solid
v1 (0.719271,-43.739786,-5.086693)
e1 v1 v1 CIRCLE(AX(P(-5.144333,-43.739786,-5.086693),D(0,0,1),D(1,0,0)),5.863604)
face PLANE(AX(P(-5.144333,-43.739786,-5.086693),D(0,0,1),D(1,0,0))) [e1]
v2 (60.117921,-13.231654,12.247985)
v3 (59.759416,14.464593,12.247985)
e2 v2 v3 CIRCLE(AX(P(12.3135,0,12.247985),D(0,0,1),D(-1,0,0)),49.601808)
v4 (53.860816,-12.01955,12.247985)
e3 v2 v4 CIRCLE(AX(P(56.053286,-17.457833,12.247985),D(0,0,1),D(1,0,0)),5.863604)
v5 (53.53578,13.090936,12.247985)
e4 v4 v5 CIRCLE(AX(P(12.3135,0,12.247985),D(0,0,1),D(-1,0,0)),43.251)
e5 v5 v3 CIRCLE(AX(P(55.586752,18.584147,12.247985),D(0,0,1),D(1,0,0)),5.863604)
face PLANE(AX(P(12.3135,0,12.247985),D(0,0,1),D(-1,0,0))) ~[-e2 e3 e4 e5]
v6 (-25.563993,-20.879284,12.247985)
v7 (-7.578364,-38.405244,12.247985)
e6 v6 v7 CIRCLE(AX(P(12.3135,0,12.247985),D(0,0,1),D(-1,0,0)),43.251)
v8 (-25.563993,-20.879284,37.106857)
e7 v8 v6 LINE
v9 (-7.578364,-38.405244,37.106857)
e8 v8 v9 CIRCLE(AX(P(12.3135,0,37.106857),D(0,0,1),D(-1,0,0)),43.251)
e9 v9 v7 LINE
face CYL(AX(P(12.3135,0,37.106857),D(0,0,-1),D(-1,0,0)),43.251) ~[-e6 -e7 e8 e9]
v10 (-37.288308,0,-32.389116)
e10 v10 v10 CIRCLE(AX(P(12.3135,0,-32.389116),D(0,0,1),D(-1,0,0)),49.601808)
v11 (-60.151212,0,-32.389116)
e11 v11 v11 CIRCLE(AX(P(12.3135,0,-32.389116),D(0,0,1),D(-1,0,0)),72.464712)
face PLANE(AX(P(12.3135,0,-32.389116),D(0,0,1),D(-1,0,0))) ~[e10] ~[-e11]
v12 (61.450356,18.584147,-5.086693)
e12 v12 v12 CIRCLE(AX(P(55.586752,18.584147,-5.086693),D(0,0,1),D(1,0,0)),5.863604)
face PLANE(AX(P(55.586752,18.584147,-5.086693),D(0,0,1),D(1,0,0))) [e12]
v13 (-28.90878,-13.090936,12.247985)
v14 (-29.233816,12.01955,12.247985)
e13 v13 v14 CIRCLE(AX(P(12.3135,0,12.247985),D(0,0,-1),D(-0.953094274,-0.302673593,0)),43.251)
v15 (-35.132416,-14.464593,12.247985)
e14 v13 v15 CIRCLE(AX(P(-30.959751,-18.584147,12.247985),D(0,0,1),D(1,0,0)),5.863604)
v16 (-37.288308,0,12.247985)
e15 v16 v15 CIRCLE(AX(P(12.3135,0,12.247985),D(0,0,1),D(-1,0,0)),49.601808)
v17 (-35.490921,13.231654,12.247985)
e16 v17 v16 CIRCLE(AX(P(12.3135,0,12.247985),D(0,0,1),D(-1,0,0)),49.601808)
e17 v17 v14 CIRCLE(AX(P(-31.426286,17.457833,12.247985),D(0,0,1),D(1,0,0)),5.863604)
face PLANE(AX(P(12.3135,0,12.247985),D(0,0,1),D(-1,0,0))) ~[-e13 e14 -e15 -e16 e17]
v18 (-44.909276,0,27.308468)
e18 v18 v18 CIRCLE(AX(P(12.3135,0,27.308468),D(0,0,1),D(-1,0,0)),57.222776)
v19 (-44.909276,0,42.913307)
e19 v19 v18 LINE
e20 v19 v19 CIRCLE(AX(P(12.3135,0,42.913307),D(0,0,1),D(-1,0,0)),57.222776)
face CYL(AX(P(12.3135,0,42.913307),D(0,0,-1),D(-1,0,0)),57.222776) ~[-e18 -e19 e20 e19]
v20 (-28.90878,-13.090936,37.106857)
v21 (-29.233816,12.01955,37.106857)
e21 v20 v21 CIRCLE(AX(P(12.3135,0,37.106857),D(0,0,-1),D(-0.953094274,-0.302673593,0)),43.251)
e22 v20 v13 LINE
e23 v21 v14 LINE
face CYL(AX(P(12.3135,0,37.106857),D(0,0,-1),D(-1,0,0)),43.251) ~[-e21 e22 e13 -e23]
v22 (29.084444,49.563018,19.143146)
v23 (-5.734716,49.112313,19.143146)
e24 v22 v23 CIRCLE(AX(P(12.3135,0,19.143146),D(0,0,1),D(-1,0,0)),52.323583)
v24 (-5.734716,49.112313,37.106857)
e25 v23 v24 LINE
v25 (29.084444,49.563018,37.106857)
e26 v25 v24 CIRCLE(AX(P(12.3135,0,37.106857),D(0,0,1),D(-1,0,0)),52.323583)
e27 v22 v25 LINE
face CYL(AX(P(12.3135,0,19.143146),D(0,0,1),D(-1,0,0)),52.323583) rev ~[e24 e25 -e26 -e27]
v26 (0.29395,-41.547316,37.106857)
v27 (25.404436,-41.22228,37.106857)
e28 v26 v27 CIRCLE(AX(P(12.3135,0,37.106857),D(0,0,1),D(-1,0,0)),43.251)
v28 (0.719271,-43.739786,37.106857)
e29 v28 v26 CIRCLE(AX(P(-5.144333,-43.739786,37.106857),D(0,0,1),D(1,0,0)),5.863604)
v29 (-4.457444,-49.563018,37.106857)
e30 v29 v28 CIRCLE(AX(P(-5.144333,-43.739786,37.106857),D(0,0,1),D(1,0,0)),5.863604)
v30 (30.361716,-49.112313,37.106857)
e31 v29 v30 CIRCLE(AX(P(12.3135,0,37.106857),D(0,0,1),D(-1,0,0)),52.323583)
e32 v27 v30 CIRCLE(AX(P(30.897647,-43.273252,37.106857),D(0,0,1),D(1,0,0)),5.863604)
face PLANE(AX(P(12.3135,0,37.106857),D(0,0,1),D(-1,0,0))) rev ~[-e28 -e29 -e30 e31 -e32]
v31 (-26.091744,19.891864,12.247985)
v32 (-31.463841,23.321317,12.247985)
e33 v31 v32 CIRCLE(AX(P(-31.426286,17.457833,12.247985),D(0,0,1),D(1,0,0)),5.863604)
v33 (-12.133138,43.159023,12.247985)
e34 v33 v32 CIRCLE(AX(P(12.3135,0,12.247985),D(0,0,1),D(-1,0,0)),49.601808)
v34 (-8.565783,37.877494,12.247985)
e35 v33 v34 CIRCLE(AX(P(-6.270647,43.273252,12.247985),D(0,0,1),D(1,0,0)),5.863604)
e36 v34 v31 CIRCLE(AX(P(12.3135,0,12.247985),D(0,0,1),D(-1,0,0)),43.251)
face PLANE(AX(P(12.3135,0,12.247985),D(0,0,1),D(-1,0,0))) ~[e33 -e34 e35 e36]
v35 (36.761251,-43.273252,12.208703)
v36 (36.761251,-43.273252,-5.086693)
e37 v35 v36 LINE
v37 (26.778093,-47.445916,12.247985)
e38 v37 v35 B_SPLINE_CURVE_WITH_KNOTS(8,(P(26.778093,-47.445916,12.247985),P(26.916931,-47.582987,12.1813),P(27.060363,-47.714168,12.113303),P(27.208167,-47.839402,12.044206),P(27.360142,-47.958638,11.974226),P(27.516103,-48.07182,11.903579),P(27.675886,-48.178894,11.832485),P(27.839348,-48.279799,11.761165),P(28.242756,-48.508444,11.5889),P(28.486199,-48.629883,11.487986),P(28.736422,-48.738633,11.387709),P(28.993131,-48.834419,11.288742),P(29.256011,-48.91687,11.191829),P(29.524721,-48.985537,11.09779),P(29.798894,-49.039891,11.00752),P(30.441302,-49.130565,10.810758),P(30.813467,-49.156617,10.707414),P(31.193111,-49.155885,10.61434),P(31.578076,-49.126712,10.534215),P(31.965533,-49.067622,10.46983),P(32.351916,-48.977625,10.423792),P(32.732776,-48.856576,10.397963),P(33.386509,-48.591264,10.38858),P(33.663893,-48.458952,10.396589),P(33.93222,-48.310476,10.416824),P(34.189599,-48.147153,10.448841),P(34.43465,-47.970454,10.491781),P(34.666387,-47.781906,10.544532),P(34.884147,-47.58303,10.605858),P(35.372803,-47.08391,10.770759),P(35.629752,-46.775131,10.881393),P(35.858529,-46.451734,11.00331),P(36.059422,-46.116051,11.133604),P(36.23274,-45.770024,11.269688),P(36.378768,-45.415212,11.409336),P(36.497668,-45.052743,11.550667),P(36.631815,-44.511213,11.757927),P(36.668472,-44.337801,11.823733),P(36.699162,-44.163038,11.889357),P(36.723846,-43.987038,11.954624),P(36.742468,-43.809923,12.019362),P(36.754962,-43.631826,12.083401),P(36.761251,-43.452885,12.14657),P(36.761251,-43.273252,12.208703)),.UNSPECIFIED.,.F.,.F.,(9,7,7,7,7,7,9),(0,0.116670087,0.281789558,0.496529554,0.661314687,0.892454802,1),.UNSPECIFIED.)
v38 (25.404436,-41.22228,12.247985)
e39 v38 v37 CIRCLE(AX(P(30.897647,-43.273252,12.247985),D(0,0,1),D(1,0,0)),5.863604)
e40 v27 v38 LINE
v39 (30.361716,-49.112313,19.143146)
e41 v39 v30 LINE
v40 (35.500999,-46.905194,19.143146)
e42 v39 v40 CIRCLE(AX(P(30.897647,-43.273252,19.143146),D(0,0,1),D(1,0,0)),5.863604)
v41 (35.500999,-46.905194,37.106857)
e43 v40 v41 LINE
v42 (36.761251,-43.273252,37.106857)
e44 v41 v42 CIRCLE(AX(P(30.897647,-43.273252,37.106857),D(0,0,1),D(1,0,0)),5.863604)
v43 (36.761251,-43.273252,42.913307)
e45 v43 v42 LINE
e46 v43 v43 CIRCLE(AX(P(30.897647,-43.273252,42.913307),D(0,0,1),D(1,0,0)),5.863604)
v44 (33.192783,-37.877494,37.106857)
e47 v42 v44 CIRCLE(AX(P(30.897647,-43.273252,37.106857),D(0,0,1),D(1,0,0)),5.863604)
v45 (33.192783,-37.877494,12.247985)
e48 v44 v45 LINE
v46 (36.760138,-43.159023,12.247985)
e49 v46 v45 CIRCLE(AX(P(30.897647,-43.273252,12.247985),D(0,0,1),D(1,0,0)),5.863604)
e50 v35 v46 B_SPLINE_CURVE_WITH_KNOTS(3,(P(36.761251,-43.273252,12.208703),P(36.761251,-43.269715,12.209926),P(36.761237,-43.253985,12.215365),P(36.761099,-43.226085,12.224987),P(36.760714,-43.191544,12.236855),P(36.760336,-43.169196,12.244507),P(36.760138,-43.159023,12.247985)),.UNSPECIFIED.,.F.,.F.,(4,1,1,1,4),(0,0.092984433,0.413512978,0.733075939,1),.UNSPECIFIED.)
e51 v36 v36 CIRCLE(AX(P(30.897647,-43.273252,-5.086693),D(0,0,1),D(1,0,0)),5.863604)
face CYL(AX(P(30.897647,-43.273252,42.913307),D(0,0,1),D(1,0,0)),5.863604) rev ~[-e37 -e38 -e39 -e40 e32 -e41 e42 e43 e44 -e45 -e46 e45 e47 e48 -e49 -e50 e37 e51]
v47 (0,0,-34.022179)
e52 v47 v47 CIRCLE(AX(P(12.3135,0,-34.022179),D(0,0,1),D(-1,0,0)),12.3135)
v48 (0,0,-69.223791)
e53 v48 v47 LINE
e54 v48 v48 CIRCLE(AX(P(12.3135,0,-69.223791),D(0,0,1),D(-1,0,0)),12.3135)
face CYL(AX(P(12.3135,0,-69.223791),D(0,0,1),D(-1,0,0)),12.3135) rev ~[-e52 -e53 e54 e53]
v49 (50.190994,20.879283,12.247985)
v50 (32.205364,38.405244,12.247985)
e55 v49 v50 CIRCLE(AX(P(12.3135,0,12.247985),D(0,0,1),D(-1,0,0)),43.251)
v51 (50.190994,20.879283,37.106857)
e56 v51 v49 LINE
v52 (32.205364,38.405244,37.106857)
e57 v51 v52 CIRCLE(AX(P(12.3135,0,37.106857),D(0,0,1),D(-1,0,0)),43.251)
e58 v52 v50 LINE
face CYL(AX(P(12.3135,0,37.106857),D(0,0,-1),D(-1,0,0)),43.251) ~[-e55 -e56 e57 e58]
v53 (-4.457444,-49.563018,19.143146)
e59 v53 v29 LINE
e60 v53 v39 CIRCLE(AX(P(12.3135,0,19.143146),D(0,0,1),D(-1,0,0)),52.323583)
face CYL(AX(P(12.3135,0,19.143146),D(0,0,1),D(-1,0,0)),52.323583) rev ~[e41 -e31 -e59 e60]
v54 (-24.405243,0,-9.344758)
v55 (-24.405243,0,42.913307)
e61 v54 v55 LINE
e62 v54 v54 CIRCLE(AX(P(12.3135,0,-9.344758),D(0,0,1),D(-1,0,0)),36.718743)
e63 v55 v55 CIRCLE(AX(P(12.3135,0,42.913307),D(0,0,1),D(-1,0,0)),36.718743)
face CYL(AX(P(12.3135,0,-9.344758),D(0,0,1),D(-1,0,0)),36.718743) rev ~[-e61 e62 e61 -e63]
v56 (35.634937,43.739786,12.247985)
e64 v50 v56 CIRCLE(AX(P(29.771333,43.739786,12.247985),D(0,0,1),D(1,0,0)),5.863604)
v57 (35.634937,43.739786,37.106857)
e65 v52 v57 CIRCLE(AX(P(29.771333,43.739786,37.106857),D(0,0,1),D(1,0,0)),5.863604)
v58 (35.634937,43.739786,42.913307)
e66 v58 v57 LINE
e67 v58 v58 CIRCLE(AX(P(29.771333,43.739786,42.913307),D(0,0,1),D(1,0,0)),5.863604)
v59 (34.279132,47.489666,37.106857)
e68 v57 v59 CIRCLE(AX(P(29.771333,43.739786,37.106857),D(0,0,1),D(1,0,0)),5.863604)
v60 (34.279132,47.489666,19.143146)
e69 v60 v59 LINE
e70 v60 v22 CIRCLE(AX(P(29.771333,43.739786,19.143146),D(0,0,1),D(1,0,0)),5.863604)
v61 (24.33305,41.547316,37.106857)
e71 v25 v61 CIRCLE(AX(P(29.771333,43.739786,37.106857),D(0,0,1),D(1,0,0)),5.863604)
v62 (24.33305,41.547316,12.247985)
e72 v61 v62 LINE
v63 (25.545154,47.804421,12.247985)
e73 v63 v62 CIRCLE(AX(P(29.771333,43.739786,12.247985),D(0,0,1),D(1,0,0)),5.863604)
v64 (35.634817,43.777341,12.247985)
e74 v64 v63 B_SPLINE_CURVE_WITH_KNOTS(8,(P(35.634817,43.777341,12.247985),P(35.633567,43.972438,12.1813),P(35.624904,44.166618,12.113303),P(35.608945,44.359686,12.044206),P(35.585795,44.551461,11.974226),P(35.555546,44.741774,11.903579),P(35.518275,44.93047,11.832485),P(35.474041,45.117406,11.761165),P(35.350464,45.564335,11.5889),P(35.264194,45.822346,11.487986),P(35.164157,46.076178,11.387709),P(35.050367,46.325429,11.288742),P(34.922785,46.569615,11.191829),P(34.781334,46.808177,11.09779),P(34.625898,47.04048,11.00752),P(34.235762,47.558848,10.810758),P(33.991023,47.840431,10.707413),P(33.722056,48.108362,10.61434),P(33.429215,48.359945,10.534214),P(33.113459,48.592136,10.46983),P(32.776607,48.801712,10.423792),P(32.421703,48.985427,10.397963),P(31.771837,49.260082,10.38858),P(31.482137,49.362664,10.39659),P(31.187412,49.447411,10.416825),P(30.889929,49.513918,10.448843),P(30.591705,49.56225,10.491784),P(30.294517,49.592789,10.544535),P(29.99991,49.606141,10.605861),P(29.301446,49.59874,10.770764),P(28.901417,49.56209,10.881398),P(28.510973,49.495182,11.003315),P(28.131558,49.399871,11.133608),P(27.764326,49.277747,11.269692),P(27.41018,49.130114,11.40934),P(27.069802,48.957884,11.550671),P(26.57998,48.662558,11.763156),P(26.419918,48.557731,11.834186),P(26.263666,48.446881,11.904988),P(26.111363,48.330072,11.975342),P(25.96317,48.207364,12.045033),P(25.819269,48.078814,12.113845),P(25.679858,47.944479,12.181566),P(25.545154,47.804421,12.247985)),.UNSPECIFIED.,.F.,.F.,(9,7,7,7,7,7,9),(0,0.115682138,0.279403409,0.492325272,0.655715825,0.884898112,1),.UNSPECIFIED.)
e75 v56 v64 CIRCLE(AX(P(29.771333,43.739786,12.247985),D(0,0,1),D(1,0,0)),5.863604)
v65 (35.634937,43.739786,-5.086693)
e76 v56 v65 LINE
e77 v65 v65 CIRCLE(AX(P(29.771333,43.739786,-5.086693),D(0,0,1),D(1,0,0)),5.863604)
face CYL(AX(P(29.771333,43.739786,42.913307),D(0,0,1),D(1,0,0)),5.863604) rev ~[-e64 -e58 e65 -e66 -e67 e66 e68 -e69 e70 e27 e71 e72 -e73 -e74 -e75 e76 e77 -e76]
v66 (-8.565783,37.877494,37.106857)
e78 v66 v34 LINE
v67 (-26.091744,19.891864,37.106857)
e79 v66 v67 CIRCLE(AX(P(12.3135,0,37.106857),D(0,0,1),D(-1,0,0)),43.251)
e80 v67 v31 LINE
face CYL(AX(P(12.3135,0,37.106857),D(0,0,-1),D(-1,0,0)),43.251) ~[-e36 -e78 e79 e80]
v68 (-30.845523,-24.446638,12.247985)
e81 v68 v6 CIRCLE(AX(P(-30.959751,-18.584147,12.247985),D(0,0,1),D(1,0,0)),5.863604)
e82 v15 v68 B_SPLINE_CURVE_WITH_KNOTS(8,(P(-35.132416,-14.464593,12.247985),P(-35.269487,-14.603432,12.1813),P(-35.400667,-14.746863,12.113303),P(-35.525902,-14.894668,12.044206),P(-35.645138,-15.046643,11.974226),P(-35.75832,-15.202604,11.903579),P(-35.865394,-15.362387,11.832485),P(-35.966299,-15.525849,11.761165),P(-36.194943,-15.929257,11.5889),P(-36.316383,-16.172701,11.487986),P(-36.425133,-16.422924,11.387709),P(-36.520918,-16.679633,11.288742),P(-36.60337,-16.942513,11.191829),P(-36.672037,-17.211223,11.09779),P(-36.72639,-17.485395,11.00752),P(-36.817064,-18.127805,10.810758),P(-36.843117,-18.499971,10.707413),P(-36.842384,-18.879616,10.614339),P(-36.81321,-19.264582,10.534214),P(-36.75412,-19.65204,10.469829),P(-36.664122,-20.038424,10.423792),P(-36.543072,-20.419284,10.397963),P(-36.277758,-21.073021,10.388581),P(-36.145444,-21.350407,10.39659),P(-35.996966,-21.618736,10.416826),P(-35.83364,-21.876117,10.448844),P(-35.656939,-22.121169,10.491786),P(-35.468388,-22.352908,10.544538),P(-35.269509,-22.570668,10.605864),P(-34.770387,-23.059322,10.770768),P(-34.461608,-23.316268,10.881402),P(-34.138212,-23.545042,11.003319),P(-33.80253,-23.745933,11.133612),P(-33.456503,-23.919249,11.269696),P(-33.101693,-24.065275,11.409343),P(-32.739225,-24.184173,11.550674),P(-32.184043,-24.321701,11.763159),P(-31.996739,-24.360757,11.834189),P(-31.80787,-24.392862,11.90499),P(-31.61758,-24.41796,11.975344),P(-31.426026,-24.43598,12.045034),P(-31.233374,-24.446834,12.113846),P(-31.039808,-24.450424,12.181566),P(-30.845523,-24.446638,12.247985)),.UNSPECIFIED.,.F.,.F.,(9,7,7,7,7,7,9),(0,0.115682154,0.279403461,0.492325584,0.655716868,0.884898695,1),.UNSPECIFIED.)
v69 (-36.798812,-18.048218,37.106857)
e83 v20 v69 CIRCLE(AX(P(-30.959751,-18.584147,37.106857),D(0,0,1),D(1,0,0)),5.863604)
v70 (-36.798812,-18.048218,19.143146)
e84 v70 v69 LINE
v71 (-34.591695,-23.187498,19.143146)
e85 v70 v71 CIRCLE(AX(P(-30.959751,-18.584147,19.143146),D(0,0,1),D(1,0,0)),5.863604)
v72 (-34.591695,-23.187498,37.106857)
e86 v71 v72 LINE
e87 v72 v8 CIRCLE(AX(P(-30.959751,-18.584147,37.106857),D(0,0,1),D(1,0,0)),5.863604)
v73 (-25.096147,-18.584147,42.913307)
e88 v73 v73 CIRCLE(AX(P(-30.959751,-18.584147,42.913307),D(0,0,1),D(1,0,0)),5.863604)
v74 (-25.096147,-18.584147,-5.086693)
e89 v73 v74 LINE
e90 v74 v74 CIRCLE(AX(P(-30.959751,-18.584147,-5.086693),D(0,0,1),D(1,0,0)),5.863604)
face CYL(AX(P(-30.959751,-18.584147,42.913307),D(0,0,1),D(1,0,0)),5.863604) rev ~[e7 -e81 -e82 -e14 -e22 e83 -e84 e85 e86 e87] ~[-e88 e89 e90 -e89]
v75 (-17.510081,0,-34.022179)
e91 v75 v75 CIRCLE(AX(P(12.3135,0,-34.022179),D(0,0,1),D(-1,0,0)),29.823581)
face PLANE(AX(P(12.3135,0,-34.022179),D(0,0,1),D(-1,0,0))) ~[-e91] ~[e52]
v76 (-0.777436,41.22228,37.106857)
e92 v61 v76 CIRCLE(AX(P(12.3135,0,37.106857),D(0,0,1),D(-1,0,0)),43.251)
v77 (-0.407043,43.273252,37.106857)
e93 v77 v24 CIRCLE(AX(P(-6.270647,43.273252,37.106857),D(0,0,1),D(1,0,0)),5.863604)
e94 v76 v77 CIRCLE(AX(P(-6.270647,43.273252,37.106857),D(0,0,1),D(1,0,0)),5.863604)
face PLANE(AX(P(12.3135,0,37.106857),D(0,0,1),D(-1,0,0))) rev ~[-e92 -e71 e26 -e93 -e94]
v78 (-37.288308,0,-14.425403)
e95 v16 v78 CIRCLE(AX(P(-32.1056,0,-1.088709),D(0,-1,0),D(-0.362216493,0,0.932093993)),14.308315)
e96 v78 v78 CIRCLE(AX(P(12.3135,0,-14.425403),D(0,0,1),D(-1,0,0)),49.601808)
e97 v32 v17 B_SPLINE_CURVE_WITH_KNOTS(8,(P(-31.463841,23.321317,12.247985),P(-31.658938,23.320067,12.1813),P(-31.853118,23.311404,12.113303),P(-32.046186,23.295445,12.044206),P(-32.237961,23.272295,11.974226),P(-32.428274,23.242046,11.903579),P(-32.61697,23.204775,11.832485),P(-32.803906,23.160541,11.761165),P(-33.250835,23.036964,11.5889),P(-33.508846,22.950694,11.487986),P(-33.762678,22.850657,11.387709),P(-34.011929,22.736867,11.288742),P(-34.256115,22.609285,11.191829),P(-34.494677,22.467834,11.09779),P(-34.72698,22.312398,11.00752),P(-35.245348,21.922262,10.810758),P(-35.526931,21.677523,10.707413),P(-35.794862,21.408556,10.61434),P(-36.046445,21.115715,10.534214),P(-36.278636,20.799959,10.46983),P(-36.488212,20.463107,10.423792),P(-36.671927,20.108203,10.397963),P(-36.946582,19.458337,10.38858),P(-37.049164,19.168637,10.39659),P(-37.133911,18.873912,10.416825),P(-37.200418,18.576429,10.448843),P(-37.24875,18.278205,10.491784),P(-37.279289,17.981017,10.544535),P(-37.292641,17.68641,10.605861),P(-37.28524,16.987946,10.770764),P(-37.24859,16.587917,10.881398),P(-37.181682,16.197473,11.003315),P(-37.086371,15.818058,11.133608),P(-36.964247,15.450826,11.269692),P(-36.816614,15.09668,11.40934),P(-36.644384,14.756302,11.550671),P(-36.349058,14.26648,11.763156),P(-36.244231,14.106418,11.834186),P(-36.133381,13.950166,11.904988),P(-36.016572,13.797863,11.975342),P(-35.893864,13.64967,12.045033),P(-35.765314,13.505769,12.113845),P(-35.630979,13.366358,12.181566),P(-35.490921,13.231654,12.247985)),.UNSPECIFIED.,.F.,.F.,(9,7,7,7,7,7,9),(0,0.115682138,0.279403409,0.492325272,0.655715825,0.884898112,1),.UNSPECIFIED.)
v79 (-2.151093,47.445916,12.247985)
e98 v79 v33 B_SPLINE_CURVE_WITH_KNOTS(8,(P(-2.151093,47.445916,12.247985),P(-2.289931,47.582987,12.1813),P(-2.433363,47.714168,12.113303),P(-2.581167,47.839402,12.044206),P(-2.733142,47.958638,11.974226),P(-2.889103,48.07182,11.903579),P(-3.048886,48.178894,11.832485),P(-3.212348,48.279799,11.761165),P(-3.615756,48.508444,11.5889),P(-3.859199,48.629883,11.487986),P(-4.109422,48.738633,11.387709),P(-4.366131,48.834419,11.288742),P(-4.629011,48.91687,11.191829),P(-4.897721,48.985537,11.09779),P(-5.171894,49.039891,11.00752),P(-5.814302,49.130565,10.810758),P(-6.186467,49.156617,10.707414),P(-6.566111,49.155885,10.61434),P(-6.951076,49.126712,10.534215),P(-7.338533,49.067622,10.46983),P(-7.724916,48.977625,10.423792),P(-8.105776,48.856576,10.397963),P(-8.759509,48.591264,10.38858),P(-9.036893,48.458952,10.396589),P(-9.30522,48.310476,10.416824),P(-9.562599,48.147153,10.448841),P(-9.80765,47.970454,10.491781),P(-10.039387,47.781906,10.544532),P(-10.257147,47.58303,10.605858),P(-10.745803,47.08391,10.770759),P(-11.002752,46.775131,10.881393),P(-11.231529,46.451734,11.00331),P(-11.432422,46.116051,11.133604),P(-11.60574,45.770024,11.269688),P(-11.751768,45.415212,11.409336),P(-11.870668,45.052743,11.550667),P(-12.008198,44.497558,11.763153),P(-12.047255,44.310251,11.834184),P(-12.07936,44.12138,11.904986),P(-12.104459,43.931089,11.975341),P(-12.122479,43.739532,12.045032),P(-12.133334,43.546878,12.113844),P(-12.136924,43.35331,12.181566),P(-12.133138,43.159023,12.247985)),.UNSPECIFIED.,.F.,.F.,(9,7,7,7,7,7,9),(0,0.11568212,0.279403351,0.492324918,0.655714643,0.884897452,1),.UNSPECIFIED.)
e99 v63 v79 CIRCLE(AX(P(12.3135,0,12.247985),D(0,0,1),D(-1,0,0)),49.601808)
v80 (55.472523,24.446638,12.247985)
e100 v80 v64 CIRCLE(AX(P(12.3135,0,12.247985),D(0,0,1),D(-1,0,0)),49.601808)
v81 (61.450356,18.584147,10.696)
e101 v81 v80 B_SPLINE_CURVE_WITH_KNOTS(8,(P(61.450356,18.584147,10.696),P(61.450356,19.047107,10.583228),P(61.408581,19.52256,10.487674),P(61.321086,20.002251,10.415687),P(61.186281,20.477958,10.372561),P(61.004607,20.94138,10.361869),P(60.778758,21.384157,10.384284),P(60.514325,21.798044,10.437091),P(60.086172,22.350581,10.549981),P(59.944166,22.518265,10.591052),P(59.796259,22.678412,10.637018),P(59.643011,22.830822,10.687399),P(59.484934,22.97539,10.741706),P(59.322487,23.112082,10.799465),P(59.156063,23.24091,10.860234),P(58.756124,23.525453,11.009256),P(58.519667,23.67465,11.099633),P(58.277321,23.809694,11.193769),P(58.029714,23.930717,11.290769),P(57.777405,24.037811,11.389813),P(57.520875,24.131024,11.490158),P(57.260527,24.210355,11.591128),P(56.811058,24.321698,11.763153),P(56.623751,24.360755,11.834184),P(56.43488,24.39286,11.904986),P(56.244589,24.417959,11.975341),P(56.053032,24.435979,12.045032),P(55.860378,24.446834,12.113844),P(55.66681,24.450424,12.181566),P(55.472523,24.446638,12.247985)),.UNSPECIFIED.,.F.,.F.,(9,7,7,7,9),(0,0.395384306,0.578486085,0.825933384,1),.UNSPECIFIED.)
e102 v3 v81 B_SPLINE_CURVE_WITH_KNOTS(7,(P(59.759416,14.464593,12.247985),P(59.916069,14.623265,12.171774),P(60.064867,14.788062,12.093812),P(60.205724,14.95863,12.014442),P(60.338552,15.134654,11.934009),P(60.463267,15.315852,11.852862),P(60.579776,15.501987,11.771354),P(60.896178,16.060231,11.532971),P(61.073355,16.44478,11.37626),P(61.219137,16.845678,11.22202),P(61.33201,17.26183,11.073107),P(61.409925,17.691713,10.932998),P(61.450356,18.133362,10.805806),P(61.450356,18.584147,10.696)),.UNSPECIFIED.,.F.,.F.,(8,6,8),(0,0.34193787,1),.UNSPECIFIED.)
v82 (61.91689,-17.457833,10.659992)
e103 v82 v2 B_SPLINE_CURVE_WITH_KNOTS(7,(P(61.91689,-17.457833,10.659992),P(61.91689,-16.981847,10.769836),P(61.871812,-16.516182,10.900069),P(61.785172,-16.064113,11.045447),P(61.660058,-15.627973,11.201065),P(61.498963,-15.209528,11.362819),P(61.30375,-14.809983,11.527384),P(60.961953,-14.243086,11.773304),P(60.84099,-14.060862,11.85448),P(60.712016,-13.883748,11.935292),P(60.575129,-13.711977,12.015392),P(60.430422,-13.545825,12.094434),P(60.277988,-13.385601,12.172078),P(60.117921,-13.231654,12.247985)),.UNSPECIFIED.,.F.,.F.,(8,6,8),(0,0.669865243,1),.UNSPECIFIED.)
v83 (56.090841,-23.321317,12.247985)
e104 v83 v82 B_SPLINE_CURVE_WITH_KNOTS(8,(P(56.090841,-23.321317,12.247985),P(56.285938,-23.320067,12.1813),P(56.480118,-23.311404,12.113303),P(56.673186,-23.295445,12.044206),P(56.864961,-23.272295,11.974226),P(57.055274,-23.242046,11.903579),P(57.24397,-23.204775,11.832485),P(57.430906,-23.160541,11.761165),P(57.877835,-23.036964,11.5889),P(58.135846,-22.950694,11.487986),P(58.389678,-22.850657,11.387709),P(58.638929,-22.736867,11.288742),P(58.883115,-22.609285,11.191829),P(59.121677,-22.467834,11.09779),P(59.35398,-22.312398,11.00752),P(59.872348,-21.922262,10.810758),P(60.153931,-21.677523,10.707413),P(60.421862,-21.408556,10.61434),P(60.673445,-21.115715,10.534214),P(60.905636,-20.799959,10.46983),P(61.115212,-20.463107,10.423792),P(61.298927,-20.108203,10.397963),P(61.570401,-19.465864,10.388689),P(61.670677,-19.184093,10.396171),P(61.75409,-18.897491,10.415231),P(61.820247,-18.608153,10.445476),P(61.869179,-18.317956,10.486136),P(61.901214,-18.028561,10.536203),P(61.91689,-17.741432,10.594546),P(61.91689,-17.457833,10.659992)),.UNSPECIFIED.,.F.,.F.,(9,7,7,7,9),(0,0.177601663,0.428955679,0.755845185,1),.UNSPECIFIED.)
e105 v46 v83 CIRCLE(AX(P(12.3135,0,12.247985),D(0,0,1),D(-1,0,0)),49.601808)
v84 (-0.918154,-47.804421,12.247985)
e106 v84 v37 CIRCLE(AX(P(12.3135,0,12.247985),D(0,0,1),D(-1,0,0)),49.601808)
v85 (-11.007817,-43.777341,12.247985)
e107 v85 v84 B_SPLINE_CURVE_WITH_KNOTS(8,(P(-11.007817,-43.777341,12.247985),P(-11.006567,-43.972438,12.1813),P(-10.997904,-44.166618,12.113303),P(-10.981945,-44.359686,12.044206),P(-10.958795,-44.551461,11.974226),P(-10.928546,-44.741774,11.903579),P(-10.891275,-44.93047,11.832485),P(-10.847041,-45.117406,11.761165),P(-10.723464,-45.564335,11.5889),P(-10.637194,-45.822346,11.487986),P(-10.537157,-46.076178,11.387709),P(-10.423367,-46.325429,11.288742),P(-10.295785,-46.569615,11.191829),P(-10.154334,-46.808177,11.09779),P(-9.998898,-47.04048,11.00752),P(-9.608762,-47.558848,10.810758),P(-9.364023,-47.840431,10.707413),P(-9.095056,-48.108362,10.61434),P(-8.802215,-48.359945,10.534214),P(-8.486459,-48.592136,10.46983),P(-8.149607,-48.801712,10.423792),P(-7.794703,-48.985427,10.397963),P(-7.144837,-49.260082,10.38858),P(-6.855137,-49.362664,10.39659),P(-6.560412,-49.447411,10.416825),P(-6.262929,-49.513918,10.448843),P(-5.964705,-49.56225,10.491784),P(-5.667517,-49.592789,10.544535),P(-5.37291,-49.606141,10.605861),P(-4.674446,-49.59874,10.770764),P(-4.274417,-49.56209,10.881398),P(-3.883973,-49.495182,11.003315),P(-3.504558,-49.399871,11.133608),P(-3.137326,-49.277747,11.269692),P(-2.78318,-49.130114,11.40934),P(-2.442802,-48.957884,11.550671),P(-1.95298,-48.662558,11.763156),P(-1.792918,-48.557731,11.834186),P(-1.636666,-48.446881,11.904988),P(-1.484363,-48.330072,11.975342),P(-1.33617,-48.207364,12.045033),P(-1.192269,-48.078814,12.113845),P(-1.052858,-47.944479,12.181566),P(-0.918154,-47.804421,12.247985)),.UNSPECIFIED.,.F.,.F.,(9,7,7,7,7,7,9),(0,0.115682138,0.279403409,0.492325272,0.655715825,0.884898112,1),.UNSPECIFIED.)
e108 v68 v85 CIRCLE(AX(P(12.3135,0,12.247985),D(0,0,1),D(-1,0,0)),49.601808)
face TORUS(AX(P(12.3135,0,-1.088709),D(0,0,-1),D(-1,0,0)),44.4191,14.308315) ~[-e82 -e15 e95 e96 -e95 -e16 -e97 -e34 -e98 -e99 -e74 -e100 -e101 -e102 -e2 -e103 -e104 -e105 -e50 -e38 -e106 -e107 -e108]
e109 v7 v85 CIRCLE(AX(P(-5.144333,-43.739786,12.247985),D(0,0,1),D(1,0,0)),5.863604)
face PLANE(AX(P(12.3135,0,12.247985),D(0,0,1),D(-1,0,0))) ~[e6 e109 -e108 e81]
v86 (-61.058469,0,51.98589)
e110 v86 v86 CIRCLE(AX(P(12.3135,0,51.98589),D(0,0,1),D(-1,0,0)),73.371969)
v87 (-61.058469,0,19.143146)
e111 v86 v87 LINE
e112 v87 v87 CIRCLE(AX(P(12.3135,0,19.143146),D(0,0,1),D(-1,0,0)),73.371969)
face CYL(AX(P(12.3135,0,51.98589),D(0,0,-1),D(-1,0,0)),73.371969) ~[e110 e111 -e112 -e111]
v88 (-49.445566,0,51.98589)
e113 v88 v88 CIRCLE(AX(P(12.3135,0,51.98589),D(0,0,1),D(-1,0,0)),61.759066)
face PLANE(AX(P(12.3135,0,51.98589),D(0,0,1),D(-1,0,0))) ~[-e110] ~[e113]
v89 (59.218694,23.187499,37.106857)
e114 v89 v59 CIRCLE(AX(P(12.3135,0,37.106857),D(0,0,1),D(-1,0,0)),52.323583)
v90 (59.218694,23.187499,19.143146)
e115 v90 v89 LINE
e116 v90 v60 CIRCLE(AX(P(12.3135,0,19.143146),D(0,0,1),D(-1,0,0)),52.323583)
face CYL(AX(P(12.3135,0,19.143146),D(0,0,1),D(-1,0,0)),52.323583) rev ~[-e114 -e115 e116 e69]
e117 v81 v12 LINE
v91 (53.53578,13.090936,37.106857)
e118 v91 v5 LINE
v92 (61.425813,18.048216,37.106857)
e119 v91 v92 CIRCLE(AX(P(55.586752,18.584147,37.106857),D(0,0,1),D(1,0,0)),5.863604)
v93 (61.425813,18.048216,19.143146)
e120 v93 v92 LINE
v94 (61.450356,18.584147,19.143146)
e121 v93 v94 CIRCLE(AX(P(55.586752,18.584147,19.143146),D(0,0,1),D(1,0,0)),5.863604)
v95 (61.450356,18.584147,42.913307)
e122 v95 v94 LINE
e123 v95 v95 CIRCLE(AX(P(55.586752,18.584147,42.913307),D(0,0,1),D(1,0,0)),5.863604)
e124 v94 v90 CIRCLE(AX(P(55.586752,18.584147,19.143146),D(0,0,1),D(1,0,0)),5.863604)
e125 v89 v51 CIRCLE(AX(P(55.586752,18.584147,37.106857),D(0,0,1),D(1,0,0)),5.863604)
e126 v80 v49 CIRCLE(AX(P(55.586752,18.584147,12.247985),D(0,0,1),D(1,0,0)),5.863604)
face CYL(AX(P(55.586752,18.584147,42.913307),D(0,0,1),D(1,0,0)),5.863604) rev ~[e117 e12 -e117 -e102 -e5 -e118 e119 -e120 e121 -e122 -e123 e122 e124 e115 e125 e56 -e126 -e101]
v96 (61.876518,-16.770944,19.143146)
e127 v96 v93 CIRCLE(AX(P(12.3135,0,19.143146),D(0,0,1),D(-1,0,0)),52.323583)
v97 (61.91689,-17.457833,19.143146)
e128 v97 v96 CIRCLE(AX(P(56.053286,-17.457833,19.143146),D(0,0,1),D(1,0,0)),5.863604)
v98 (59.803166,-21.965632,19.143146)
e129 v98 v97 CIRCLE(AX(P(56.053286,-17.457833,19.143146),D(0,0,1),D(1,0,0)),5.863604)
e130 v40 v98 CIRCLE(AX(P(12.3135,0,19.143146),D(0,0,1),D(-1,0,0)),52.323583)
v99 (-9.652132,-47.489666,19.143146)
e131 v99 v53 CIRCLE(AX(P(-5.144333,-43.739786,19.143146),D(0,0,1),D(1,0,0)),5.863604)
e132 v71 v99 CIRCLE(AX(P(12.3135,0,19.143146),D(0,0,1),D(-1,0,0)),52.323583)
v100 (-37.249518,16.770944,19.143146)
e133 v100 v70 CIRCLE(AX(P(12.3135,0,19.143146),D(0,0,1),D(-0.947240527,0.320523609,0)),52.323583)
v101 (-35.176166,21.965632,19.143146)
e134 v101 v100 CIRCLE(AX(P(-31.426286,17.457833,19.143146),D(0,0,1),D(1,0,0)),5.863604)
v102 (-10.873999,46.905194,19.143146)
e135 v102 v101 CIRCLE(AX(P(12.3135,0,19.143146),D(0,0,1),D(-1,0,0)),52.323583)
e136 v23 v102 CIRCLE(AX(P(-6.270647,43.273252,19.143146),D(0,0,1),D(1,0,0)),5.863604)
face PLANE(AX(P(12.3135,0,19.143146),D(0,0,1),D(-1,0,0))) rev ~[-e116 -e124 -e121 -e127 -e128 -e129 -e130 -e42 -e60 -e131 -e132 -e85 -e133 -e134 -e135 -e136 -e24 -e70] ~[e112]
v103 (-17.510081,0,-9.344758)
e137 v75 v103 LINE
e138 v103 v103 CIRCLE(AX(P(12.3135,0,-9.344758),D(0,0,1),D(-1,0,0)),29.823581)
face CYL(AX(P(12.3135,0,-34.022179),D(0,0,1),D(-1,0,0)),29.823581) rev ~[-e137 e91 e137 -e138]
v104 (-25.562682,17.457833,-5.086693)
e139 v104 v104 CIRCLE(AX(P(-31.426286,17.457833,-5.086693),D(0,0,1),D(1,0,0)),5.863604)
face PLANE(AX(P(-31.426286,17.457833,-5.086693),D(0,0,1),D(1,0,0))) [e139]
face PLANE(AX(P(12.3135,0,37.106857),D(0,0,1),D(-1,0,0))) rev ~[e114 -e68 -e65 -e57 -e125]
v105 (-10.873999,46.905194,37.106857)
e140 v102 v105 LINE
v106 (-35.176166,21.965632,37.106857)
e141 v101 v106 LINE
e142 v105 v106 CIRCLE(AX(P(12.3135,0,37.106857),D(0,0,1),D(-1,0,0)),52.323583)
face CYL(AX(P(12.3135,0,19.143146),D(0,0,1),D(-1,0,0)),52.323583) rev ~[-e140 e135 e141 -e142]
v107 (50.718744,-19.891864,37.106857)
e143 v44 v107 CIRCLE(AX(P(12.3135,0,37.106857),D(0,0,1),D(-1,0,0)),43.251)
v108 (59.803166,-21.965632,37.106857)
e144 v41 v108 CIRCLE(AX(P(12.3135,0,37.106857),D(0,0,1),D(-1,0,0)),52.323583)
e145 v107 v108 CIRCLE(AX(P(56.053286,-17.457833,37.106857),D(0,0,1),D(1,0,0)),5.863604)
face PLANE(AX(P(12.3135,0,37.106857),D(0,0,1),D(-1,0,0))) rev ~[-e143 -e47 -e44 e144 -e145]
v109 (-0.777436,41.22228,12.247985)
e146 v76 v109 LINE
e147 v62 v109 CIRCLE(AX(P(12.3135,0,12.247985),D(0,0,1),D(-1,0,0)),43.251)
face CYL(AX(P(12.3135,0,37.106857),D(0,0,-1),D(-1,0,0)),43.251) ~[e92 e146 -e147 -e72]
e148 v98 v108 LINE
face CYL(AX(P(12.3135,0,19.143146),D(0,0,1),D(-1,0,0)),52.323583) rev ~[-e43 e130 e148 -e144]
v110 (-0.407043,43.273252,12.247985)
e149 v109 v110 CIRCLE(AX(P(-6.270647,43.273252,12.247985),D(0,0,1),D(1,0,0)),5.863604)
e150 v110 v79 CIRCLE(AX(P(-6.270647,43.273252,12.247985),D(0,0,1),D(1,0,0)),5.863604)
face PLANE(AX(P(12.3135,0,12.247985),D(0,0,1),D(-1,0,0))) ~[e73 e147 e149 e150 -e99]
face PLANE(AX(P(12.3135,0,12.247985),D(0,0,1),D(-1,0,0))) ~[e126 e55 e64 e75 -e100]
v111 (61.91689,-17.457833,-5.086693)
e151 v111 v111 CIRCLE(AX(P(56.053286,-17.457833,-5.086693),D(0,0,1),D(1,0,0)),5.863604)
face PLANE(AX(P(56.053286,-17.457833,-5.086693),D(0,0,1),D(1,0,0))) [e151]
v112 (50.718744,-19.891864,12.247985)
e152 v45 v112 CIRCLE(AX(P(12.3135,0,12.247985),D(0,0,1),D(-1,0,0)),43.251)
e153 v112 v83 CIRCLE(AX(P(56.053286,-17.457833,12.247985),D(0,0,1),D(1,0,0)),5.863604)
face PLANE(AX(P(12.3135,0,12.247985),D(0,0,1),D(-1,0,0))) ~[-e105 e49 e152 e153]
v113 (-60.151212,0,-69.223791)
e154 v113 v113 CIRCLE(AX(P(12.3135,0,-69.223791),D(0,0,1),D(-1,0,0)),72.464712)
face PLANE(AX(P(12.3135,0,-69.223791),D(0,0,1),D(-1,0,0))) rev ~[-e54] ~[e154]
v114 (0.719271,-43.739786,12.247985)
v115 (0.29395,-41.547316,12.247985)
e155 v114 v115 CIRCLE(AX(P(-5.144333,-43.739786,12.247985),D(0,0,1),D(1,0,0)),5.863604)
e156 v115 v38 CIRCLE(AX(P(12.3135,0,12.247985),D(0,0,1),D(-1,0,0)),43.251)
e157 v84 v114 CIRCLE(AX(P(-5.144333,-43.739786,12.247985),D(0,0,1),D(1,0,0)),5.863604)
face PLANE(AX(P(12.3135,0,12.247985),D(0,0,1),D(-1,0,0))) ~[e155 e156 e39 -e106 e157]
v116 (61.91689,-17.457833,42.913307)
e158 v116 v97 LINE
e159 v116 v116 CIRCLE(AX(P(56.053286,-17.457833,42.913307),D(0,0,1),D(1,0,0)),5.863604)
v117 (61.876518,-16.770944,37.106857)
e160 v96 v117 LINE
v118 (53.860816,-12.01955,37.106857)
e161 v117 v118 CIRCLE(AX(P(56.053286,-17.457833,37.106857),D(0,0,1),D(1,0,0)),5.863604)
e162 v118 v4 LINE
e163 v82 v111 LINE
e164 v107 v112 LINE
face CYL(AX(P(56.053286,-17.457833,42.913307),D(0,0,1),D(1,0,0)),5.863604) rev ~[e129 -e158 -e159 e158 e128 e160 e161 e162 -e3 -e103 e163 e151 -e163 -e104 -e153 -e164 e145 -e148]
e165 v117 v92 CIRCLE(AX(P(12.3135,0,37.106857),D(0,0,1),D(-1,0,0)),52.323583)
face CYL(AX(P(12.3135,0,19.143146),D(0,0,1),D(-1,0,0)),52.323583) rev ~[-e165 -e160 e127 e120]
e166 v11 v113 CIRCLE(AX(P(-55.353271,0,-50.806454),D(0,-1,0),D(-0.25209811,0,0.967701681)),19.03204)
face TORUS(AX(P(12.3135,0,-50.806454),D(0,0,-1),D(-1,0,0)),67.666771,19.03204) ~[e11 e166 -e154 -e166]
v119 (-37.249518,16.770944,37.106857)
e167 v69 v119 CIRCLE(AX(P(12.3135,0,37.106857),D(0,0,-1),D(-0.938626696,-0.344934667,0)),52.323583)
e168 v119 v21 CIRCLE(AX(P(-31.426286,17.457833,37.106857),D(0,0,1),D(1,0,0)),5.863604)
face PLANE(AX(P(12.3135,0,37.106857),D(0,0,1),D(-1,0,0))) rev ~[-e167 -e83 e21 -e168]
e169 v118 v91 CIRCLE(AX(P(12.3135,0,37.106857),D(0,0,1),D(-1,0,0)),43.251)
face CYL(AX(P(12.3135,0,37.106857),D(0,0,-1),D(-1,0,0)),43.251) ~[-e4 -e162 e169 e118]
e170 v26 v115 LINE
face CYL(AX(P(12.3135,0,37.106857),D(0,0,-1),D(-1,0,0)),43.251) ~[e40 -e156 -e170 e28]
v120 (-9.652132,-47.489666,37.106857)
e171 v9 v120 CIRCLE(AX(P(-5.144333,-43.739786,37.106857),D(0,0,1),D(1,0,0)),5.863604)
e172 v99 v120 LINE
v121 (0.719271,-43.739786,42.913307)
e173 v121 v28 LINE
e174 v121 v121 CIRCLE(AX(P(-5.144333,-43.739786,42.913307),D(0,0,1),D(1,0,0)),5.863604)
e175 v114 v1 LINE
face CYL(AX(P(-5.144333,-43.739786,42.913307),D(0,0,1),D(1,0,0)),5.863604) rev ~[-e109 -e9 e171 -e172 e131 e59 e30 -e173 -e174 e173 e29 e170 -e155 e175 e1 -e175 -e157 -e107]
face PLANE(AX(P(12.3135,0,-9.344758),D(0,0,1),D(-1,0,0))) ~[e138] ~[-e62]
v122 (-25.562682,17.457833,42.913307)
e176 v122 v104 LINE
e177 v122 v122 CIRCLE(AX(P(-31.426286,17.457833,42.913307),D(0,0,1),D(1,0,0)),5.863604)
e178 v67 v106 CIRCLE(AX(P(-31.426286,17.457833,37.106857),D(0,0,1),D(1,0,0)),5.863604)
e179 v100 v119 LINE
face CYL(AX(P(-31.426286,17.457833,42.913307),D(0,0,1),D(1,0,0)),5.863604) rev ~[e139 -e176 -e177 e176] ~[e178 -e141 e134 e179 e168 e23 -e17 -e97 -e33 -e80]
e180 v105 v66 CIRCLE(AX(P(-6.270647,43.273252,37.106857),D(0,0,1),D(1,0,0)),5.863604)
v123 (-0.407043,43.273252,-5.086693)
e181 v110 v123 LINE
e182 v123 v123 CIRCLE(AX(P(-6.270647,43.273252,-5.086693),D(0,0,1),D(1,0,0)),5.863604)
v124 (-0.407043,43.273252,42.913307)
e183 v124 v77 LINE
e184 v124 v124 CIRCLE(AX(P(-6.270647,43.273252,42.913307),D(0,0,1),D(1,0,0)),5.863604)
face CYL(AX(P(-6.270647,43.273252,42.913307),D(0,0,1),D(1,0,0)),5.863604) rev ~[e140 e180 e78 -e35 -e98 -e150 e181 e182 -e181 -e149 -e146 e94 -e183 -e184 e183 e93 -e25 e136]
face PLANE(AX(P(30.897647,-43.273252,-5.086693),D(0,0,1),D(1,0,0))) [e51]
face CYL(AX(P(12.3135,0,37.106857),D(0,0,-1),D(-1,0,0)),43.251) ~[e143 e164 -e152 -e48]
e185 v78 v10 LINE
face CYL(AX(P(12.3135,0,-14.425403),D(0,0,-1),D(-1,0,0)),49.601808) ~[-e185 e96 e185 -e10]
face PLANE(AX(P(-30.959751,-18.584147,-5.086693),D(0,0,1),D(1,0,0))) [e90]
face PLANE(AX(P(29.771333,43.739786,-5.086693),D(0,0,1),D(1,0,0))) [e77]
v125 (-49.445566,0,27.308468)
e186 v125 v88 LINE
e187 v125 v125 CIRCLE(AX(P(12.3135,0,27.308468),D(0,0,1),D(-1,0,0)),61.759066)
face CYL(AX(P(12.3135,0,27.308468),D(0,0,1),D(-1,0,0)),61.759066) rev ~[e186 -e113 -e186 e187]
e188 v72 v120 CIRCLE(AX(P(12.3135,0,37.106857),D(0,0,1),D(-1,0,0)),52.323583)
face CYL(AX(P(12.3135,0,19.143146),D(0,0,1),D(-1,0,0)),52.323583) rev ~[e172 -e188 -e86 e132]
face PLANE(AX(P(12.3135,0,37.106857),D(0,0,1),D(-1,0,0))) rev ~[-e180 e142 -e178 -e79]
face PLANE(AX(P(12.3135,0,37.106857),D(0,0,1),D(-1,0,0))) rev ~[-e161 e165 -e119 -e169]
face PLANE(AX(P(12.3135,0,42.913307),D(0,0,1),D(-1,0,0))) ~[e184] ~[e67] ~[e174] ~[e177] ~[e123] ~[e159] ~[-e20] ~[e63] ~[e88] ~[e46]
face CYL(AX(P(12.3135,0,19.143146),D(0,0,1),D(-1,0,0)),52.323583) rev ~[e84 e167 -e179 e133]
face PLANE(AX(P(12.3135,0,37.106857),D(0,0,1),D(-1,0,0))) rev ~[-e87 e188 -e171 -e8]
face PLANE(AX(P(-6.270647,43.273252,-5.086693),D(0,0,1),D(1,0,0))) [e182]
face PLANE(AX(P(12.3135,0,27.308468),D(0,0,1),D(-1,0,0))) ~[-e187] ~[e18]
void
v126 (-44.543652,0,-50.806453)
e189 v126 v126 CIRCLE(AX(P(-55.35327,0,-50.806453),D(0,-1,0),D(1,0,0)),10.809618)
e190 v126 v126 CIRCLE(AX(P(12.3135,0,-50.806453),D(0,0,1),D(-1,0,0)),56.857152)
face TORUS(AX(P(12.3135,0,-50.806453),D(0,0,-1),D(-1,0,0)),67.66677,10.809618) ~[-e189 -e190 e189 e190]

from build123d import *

# Parameters (mm, degrees)
F0_R     = 10.809618
F2_R     = 5.863604
F3_DEPTH = 48


with BuildPart() as f1:
    # F0 (on Front) → F1 (revolve)
    with BuildSketch(Plane.XZ):
        with BuildLine():
            Line((0, -34.022179), (-2.993953, -34.022179))
            Line((-2.993953, -34.022179), (-17.510081, -34.022179))
            Line((-17.510081, -34.022179), (-17.510081, -9.344758))
            Line((-17.510081, -9.344758), (-24.405243, -9.344758))
            Line((-24.405243, -9.344758), (-24.405243, 42.913307))
            Line((-24.405243, 42.913307), (-44.909276, 42.913307))
            Line((-44.909276, 42.913307), (-44.909276, 27.308468))
            Line((-44.909276, 27.308468), (-49.445566, 27.308468))
            Line((-49.445566, 27.308468), (-49.445566, 51.98589))
            Line((-49.445566, 51.98589), (-61.058469, 51.98589))
            Line((-61.058469, 51.98589), (-61.058469, 19.143146))
            Line((-61.058469, 19.143146), (-40.010083, 19.143146))
            Line((-40.010083, 19.143146), (-40.010083, 37.106857))
            Line((-40.010083, 37.106857), (-30.9375, 37.106857))
            Line((-30.9375, 37.106857), (-30.9375, 12.247985))
            Line((-30.9375, 12.247985), (-37.288308, 12.247985))
            ThreePointArc((-37.288308, 12.247985), (-46.413915, -1.088709), (-37.288308, -14.425403))
            Line((-37.288308, -14.425403), (-37.288308, -32.389116))
            Line((-37.288308, -32.389116), (-60.151212, -32.389116))
            ThreePointArc((-60.151212, -32.389116), (-74.385311, -50.806453), (-60.151212, -69.223791))
            Line((-60.151212, -69.223791), (0, -69.223791))
            Line((0, -69.223791), (0, -34.022179))
        make_face()
        with Locations((-55.35327, -50.806453)):
            Circle(F0_R, mode=Mode.SUBTRACT)
    revolve(axis=Axis((12.3135, 0, -33.01385), (0, 0, 1)))

    # F2 (on face) → F3 (cut)
    with BuildSketch(Plane.XY.offset(42.913307)):
        with Locations((-6.270647, 43.273252)):
            Circle(F2_R)
        with Locations((29.771333, 43.739786)):
            Circle(F2_R)
        with Locations((55.586752, 18.584147)):
            Circle(F2_R)
        with Locations((56.053286, -17.457833)):
            Circle(F2_R)
        with Locations((30.897647, -43.273252)):
            Circle(F2_R)
        with Locations((-5.144333, -43.739786)):
            Circle(F2_R)
        with Locations((-30.959751, -18.584147)):
            Circle(F2_R)
        with Locations((-31.426286, 17.457833)):
            Circle(F2_R)
    extrude(amount=-F3_DEPTH, mode=Mode.SUBTRACT)


solid = f1.part
